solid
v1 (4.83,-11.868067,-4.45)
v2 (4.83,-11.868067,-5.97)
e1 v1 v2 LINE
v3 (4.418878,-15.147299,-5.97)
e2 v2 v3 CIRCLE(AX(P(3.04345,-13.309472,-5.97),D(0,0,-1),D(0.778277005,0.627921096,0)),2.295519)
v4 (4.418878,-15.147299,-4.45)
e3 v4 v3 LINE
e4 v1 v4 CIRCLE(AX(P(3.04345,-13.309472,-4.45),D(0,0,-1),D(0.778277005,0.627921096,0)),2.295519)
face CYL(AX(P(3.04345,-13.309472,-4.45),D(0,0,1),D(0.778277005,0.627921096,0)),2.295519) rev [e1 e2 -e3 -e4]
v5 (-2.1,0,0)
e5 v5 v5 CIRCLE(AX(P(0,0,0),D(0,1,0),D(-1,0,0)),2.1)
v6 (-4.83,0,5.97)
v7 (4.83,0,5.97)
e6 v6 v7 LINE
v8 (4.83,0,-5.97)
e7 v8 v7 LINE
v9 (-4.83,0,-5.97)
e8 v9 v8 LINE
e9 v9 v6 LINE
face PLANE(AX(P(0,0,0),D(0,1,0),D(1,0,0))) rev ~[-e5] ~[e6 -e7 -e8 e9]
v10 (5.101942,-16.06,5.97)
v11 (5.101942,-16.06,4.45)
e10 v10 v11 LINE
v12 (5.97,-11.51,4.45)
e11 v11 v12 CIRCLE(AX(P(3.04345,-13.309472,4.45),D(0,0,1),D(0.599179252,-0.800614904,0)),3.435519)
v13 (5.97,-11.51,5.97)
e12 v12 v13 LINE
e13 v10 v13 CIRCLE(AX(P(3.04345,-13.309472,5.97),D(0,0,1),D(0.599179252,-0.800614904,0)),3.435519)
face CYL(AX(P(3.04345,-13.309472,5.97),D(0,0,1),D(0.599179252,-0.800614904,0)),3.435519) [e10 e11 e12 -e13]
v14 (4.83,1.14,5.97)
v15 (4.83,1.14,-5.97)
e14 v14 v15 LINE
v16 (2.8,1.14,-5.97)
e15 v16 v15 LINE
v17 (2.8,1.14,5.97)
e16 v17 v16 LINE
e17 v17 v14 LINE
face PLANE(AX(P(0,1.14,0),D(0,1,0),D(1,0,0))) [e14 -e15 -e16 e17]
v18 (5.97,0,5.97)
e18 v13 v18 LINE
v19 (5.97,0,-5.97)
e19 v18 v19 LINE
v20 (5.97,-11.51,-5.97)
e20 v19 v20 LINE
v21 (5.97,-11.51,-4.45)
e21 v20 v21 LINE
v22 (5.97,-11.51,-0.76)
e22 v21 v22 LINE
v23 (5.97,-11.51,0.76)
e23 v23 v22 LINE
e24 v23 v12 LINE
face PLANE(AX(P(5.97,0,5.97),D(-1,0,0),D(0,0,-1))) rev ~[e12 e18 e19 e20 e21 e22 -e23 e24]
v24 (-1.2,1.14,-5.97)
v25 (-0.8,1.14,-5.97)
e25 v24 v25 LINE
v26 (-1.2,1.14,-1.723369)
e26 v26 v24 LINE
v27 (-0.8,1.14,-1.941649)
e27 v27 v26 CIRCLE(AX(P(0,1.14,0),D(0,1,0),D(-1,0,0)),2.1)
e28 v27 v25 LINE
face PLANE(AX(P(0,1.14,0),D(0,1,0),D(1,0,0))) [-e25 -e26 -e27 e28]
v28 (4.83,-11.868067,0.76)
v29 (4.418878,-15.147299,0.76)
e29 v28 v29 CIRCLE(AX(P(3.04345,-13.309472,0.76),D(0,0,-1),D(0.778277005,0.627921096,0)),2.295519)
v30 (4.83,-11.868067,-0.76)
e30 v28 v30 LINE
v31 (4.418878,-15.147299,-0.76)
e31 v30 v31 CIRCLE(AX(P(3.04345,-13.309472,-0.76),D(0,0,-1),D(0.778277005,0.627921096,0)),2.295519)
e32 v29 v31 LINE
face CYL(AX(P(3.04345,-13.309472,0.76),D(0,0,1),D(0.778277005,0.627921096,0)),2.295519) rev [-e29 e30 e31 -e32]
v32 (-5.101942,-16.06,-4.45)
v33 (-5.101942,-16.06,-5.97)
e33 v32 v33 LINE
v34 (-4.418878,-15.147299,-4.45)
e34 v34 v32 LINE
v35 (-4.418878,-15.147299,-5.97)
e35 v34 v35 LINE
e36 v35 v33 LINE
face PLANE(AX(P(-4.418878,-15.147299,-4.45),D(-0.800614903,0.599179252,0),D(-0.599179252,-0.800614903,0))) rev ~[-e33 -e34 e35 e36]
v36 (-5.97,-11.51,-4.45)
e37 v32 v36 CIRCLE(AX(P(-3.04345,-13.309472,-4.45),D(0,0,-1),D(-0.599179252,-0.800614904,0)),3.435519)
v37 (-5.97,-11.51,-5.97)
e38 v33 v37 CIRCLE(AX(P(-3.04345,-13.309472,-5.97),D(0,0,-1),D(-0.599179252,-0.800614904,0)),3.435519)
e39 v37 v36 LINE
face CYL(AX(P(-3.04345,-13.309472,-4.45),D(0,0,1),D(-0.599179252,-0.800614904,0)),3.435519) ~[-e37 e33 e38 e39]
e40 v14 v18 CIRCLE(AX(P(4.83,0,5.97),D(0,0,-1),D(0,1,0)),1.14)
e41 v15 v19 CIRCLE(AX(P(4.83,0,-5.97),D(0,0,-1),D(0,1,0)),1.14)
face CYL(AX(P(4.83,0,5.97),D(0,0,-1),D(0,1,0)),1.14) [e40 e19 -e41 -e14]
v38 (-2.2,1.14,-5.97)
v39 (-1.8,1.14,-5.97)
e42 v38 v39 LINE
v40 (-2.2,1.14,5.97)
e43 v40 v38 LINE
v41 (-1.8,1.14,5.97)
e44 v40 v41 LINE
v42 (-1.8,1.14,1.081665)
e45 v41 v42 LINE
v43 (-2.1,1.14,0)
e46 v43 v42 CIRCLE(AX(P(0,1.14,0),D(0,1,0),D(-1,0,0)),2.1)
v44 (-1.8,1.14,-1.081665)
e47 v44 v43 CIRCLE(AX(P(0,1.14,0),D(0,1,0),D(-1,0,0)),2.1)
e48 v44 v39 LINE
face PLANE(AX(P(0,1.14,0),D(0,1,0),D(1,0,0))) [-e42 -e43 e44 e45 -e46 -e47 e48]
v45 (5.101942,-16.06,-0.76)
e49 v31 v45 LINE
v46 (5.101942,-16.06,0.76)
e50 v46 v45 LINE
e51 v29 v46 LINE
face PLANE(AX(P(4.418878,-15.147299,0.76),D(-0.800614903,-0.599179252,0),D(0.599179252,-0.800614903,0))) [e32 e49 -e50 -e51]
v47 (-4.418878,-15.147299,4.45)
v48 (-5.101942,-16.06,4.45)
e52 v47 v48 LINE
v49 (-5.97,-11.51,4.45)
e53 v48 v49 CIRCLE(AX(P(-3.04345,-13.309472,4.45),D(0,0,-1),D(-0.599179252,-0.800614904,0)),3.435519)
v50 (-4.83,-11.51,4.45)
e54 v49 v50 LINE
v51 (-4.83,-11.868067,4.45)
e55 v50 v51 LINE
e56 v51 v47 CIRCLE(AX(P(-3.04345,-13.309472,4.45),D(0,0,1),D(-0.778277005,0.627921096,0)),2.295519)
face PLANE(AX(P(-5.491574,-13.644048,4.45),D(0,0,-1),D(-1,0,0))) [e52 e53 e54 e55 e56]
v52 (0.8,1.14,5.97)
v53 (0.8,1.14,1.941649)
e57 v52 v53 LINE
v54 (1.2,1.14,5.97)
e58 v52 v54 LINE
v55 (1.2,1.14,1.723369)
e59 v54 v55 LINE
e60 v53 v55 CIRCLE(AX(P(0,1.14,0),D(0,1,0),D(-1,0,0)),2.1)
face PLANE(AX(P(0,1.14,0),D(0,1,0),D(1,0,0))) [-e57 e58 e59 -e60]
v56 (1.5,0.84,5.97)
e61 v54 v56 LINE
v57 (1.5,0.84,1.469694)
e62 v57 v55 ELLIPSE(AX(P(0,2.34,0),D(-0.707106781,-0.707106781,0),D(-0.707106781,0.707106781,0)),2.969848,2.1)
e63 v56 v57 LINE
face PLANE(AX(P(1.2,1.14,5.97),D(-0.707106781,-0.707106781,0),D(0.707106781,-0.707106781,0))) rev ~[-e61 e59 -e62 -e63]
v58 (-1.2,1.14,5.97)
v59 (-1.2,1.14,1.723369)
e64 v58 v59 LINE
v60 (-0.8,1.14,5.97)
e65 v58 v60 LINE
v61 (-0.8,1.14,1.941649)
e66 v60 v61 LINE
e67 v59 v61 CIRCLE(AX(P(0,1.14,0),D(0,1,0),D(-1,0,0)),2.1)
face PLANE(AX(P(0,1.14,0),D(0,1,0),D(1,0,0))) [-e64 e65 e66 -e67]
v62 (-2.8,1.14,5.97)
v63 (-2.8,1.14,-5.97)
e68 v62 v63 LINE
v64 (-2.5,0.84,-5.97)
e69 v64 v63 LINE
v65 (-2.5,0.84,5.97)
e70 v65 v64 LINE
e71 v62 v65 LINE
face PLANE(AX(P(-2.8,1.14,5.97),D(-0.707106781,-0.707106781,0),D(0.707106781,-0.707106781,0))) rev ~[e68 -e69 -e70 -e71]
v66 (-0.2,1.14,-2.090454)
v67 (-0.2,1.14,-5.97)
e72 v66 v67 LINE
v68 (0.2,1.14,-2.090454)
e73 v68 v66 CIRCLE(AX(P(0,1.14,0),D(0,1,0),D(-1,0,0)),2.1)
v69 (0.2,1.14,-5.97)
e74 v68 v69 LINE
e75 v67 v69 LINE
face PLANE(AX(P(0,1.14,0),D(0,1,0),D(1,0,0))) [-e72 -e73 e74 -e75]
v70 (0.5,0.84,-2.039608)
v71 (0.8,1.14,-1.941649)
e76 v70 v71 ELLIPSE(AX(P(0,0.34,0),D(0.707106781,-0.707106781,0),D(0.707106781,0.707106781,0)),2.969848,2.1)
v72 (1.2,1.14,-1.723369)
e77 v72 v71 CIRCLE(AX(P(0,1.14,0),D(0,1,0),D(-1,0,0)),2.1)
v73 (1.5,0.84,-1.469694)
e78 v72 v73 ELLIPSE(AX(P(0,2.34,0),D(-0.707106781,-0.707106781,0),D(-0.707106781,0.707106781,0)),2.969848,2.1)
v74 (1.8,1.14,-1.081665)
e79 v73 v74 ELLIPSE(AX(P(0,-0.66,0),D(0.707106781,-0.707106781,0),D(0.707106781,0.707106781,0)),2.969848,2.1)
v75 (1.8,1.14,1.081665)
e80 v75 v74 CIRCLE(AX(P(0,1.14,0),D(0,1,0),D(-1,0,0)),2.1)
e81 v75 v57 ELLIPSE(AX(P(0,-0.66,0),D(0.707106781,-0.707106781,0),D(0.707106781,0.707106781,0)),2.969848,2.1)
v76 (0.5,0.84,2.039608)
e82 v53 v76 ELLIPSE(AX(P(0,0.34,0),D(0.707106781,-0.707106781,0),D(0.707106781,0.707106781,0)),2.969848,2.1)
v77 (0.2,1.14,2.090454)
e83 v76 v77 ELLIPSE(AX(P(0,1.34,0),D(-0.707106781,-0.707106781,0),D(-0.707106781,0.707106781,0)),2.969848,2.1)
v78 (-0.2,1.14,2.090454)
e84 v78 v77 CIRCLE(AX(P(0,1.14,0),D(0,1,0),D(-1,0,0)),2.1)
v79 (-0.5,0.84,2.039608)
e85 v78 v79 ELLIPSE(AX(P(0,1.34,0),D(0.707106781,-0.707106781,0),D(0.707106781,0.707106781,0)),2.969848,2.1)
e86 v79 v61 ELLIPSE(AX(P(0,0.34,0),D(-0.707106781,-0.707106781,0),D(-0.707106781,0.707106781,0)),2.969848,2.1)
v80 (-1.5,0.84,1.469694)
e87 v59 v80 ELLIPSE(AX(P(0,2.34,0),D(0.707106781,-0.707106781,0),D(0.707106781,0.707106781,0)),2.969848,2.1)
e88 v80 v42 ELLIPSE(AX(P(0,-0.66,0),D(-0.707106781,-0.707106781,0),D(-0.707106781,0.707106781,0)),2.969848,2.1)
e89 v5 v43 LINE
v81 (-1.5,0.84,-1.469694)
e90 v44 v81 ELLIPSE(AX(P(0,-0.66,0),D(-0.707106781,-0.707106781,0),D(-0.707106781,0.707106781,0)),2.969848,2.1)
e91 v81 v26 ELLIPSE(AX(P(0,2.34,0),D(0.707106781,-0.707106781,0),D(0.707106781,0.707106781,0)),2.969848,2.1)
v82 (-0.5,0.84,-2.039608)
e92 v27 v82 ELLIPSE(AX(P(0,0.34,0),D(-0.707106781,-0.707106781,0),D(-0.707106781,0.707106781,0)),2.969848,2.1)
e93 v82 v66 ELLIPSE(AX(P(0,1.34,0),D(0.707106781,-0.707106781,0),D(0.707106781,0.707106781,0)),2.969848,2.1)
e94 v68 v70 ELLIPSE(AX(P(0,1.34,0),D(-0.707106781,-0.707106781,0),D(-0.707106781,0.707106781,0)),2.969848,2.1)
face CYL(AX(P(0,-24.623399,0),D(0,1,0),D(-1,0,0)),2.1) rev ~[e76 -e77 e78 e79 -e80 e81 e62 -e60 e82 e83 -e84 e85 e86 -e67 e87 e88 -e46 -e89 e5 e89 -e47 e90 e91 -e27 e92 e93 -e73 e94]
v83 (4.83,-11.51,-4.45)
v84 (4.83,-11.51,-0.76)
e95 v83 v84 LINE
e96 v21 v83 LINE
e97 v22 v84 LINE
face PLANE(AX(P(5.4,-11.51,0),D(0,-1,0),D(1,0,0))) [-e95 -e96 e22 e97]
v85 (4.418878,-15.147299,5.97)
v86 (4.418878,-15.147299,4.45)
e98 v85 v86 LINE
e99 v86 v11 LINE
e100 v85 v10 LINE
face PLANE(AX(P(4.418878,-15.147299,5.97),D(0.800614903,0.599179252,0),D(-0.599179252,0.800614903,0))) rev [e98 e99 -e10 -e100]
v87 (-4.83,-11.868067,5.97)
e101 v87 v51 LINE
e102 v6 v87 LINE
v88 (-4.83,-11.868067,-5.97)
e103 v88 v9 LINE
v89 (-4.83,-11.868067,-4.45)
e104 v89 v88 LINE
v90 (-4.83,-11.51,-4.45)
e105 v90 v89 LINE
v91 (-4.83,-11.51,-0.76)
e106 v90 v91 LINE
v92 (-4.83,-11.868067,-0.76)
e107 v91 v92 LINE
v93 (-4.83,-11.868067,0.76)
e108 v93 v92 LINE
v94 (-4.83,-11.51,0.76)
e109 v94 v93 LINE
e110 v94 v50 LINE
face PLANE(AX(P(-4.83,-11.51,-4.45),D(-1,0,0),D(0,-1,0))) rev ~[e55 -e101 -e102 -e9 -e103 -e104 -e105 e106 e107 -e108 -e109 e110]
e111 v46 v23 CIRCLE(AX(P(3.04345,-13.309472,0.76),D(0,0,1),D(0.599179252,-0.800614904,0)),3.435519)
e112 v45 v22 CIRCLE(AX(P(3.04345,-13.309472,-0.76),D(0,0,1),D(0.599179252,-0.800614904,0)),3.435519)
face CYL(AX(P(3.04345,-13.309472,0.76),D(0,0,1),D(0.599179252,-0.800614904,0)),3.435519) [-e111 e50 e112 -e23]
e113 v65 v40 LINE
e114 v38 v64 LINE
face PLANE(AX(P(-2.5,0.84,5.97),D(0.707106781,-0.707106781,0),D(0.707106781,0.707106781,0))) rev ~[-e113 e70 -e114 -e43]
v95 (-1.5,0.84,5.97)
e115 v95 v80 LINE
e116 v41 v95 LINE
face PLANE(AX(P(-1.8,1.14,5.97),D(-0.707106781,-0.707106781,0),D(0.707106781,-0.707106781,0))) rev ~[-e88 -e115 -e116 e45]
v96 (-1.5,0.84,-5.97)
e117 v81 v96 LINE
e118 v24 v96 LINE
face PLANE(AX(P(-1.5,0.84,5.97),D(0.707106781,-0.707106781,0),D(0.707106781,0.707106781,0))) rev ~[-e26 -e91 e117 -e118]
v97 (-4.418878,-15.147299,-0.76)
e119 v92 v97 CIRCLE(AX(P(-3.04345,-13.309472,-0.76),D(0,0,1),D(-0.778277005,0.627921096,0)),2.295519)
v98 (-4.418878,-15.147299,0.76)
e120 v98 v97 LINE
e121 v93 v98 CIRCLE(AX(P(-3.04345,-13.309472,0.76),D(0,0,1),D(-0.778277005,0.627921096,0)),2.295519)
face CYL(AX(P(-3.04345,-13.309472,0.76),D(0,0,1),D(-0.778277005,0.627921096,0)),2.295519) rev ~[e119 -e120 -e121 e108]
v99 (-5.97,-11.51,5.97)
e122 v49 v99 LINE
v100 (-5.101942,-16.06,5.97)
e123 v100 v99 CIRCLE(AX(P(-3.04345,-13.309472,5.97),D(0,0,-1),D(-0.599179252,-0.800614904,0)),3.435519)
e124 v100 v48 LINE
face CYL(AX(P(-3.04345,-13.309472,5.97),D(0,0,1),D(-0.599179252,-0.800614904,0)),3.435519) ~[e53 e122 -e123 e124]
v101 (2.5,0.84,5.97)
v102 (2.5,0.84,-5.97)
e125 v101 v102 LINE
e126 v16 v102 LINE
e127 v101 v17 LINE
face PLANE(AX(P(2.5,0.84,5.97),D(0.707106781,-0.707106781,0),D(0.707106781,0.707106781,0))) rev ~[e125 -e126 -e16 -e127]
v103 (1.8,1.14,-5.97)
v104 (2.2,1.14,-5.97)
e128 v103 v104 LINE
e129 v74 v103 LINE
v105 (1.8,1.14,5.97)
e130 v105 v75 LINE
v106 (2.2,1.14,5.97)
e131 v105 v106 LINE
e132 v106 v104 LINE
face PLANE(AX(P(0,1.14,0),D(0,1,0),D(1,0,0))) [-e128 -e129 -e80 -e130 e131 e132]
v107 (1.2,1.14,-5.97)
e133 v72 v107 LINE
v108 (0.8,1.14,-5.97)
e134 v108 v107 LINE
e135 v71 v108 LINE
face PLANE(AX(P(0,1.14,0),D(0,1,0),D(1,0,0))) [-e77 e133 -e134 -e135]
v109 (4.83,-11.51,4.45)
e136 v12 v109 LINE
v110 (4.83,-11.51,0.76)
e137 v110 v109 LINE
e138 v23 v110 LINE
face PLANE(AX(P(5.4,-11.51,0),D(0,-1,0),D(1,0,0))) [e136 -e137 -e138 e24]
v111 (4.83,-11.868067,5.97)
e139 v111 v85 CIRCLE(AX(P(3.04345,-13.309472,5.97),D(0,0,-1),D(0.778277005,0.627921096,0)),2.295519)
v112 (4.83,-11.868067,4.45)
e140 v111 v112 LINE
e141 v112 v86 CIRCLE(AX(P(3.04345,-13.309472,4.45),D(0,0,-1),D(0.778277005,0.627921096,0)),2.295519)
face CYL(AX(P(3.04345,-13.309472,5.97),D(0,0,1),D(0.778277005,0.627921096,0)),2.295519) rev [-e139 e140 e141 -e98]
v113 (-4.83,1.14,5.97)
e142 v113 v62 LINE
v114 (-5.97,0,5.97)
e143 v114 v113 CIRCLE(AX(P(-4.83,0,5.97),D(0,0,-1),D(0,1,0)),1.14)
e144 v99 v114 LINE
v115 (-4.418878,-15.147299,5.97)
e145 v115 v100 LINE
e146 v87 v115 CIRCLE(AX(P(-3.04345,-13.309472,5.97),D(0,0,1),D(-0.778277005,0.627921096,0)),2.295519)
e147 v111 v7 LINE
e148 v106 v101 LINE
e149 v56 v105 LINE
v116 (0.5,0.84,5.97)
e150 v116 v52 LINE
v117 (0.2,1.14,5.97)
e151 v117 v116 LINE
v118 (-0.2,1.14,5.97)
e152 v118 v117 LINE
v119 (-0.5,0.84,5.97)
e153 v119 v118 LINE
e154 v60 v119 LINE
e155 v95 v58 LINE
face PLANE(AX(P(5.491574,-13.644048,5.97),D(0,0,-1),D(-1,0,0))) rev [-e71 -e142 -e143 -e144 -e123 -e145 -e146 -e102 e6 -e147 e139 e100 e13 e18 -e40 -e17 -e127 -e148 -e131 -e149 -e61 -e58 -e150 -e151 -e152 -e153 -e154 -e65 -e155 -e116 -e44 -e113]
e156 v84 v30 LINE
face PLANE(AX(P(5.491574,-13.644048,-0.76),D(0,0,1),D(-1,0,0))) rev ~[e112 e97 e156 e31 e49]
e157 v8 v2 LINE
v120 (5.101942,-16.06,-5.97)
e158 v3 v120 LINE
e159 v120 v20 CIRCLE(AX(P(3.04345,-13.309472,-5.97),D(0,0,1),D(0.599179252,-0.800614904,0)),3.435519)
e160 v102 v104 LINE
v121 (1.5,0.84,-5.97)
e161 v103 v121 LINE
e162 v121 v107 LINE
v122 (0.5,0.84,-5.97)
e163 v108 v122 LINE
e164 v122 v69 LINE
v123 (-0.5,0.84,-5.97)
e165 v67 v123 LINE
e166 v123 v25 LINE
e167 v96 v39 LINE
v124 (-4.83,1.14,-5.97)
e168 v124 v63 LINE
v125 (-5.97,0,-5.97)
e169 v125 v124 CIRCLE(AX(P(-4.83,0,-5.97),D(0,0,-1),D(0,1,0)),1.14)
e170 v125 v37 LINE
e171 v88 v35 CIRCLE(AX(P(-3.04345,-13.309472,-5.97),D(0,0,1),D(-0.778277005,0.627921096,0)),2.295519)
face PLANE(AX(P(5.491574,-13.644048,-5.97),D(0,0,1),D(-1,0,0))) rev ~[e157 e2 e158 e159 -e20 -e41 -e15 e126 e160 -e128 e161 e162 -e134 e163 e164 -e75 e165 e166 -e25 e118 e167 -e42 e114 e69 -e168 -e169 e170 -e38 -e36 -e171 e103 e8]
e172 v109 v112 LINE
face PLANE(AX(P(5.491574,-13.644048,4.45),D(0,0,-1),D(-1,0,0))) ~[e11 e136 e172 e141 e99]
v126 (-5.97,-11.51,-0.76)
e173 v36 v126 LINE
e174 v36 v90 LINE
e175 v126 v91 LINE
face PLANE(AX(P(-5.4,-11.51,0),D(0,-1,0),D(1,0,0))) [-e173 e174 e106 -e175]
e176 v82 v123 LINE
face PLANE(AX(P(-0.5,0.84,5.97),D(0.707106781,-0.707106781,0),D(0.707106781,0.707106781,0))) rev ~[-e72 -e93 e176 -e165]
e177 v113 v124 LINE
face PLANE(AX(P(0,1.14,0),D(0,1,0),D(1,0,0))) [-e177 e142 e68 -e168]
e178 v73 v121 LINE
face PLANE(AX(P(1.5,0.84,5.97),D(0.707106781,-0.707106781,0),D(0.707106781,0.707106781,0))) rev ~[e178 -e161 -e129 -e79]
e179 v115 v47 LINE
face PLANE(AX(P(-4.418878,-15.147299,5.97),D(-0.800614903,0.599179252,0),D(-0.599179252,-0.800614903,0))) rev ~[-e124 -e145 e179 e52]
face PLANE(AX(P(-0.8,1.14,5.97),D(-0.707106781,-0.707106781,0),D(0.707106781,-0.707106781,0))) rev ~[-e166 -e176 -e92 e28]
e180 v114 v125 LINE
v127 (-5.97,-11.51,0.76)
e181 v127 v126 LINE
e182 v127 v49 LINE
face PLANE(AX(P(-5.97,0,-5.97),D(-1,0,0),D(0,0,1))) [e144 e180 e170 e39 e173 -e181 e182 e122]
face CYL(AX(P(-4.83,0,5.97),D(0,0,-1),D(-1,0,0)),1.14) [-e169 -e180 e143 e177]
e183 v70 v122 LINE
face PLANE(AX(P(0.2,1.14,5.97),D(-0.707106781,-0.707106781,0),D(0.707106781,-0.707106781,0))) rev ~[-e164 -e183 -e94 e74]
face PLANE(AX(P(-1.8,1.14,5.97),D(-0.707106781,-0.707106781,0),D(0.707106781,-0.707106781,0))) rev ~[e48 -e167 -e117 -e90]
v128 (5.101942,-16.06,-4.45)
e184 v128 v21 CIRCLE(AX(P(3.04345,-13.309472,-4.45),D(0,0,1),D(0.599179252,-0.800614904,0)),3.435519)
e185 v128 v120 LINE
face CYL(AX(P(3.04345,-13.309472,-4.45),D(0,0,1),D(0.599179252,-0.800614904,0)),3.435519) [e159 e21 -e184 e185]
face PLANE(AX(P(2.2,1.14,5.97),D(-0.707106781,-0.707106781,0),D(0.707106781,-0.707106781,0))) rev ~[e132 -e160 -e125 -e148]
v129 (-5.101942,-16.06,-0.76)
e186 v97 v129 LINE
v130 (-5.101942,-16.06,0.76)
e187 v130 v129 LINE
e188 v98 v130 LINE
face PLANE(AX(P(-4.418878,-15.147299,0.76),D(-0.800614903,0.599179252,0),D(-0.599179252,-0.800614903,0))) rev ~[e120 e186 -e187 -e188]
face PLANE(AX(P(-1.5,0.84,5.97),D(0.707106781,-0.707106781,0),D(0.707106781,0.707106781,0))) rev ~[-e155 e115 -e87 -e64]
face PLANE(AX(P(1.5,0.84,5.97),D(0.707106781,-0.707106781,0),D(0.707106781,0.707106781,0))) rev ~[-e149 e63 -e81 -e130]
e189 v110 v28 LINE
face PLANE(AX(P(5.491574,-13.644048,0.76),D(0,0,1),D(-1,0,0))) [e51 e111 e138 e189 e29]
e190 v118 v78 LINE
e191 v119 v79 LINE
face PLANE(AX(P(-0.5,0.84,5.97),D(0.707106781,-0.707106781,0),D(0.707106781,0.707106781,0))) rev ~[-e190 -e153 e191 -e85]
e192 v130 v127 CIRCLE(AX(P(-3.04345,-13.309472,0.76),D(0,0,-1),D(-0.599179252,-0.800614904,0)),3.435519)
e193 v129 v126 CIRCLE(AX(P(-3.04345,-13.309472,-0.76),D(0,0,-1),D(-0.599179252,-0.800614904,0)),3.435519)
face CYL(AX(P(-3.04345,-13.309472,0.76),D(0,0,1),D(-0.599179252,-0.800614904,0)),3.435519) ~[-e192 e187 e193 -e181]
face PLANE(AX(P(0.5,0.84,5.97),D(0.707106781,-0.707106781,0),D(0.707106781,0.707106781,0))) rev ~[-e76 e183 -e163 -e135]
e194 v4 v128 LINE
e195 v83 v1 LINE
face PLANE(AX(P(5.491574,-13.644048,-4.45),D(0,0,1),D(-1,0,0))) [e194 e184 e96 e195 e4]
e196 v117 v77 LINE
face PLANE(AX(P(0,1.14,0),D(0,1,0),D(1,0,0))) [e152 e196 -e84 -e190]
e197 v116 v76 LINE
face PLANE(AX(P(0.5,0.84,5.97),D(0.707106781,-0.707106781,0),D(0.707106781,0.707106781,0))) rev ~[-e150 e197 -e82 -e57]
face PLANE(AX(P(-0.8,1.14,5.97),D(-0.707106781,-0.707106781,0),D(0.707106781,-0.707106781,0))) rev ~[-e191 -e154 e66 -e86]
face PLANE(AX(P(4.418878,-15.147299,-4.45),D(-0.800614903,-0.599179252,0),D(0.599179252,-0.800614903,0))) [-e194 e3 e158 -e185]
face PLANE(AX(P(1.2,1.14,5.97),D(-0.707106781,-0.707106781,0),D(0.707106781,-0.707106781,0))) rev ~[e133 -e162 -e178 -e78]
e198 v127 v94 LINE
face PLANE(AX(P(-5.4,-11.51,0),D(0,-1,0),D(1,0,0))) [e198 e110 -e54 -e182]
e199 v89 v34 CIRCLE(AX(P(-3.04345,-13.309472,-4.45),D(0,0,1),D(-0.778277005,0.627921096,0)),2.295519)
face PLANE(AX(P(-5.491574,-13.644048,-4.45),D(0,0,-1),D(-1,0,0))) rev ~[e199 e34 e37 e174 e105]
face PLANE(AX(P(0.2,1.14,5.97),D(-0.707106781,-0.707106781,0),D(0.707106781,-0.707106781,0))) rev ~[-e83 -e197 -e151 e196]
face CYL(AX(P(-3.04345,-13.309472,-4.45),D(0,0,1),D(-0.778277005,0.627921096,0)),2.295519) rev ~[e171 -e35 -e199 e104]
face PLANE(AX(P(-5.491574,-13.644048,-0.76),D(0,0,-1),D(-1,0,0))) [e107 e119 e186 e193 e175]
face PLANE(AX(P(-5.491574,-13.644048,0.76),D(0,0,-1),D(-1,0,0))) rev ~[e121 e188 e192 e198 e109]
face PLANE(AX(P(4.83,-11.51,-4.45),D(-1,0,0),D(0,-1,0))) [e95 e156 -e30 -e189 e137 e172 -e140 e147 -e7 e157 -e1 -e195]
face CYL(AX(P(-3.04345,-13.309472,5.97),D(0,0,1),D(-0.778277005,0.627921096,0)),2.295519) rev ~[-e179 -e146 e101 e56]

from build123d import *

# Parameters (mm, degrees)
SKETCH1_W             = 11.94
SKETCH1_H             = 11.94
BOSS_EXTRUDE1_DEPTH   = 1.14
CUT_EXTRUDE2_DEPTH    = 12.94
LPATTERN1_COUNT       = 2
LPATTERN1_PITCH       = 2
LPATTERN1_COL_COUNT   = 2
LPATTERN1_COL_PITCH   = 2
SKETCH7_W             = 1.14
SKETCH7_H             = 11.94
BOSS_EXTRUDE2_DEPTH   = 11.51
BOSS_EXTRUDE3_DEPTH   = 1.52
LPATTERN3_COUNT       = 3
LPATTERN3_PITCH       = 5.21
MIRROR1_COPY_1_DEPTH  = 1.52
MIRROR1_COPY_2_DEPTH  = 1.52
FILLET2_R             = 1.14
M5X0_8_TAPPED_HOLE2_D = 4.2


with BuildPart() as part:
    # Sketch1 → Boss-Extrude1 (new body)
    with BuildSketch(Plane(origin=(0, 0, 0), x_dir=(1, 0, 0), z_dir=(0, 1, 0))):
        Rectangle(SKETCH1_W, SKETCH1_H)
    extrude(amount=BOSS_EXTRUDE1_DEPTH)

    # Sketch4 → Cut-Extrude2 (cut, through all)
    with BuildSketch(Plane.XY.offset(5.97)):
        Polygon((0.2, 1.14), (0.5, 0.84), (0.8, 1.14), align=None)
        Polygon((-0.5, 0.84), (-0.2, 1.14), (-0.8, 1.14), align=None)
    cut_extrude2 = extrude(amount=-CUT_EXTRUDE2_DEPTH, mode=Mode.SUBTRACT)

    # LPattern1: Cut-Extrude2 ×2
    with Locations(*[(i * LPATTERN1_PITCH, 0, 0) for i in range(1, LPATTERN1_COUNT)]):
        add(cut_extrude2, mode=Mode.SUBTRACT)

    # LPattern1 col: Cut-Extrude2 ×2
    with Locations(*[(-i * LPATTERN1_COL_PITCH, 0, 0) for i in range(1, LPATTERN1_COL_COUNT)]):
        add(cut_extrude2, mode=Mode.SUBTRACT)

    # Sketch7 → Boss-Extrude2 (add)
    with BuildSketch(Plane.XZ):
        with Locations((-5.4, 0)):
            Rectangle(SKETCH7_W, SKETCH7_H)
        with Locations((5.4, 0)):
            Rectangle(SKETCH7_W, SKETCH7_H)
    extrude(amount=BOSS_EXTRUDE2_DEPTH)

    # Sketch6 → Boss-Extrude3 (add)
    with BuildSketch(Plane.XY.offset(5.97)):
        with BuildLine():
            Line((-4.83, -11.51), (-4.83, -11.86806677))
            ThreePointArc((-4.83, -11.86806677), (-5.321138867, -13.595029247), (-4.418877615, -15.14729901))
            Line((-4.418877615, -15.14729901), (-5.101941963, -16.06))
            ThreePointArc((-5.101941963, -16.06), (-6.41810343, -13.95329498), (-5.97, -11.51))
            Line((-5.97, -11.51), (-4.83, -11.51))
        make_face()
    boss_extrude3 = extrude(amount=-BOSS_EXTRUDE3_DEPTH)

    # LPattern3: Boss-Extrude3 ×3
    with Locations(*[(0, 0, -i * LPATTERN3_PITCH) for i in range(1, LPATTERN3_COUNT)]):
        add(boss_extrude3)

    # Mirror1: Boss-Extrude3 across plane
    add(boss_extrude3.mirror(Plane(origin=(0, 0, 0), x_dir=(0, 0, 1), z_dir=(1, 0, 0))))

    # Mirror1 copy 1 sketch → Mirror1 copy 1 (add)
    with BuildSketch(Plane(origin=(0, 0, 0.76), x_dir=(-1, 0, 0), z_dir=(0, 0, 1))):
        with BuildLine():
            Line((-4.83, 11.51), (-4.83, 11.86806677))
            ThreePointArc((-4.83, 11.86806677), (-5.321138867, 13.595029247), (-4.418877615, 15.14729901))
            Line((-4.418877615, 15.14729901), (-5.101941963, 16.06))
            ThreePointArc((-5.101941963, 16.06), (-6.41810343, 13.95329498), (-5.97, 11.51))
            Line((-5.97, 11.51), (-4.83, 11.51))
        make_face()
    extrude(amount=-MIRROR1_COPY_1_DEPTH)

    # Mirror1 copy 2 sketch → Mirror1 copy 2 (add)
    with BuildSketch(Plane(origin=(0, 0, -4.45), x_dir=(-1, 0, 0), z_dir=(0, 0, 1))):
        with BuildLine():
            Line((-4.83, 11.51), (-4.83, 11.86806677))
            ThreePointArc((-4.83, 11.86806677), (-5.321138867, 13.595029247), (-4.418877615, 15.14729901))
            Line((-4.418877615, 15.14729901), (-5.101941963, 16.06))
            ThreePointArc((-5.101941963, 16.06), (-6.41810343, 13.95329498), (-5.97, 11.51))
            Line((-5.97, 11.51), (-4.83, 11.51))
        make_face()
    extrude(amount=-MIRROR1_COPY_2_DEPTH)

    # Fillet2
    fillet2_edges = [part.edges().sort_by_distance(p)[0] for p in [
        (5.97, 1.14, 0),
        (-5.97, 1.14, 0),
    ]]
    fillet(fillet2_edges, radius=FILLET2_R)

    # M5x0.8 Tapped Hole2 (through all)
    with Locations(Plane.XZ):
        with Locations((0, 0)):
            Hole(M5X0_8_TAPPED_HOLE2_D / 2)


solid = part.part
